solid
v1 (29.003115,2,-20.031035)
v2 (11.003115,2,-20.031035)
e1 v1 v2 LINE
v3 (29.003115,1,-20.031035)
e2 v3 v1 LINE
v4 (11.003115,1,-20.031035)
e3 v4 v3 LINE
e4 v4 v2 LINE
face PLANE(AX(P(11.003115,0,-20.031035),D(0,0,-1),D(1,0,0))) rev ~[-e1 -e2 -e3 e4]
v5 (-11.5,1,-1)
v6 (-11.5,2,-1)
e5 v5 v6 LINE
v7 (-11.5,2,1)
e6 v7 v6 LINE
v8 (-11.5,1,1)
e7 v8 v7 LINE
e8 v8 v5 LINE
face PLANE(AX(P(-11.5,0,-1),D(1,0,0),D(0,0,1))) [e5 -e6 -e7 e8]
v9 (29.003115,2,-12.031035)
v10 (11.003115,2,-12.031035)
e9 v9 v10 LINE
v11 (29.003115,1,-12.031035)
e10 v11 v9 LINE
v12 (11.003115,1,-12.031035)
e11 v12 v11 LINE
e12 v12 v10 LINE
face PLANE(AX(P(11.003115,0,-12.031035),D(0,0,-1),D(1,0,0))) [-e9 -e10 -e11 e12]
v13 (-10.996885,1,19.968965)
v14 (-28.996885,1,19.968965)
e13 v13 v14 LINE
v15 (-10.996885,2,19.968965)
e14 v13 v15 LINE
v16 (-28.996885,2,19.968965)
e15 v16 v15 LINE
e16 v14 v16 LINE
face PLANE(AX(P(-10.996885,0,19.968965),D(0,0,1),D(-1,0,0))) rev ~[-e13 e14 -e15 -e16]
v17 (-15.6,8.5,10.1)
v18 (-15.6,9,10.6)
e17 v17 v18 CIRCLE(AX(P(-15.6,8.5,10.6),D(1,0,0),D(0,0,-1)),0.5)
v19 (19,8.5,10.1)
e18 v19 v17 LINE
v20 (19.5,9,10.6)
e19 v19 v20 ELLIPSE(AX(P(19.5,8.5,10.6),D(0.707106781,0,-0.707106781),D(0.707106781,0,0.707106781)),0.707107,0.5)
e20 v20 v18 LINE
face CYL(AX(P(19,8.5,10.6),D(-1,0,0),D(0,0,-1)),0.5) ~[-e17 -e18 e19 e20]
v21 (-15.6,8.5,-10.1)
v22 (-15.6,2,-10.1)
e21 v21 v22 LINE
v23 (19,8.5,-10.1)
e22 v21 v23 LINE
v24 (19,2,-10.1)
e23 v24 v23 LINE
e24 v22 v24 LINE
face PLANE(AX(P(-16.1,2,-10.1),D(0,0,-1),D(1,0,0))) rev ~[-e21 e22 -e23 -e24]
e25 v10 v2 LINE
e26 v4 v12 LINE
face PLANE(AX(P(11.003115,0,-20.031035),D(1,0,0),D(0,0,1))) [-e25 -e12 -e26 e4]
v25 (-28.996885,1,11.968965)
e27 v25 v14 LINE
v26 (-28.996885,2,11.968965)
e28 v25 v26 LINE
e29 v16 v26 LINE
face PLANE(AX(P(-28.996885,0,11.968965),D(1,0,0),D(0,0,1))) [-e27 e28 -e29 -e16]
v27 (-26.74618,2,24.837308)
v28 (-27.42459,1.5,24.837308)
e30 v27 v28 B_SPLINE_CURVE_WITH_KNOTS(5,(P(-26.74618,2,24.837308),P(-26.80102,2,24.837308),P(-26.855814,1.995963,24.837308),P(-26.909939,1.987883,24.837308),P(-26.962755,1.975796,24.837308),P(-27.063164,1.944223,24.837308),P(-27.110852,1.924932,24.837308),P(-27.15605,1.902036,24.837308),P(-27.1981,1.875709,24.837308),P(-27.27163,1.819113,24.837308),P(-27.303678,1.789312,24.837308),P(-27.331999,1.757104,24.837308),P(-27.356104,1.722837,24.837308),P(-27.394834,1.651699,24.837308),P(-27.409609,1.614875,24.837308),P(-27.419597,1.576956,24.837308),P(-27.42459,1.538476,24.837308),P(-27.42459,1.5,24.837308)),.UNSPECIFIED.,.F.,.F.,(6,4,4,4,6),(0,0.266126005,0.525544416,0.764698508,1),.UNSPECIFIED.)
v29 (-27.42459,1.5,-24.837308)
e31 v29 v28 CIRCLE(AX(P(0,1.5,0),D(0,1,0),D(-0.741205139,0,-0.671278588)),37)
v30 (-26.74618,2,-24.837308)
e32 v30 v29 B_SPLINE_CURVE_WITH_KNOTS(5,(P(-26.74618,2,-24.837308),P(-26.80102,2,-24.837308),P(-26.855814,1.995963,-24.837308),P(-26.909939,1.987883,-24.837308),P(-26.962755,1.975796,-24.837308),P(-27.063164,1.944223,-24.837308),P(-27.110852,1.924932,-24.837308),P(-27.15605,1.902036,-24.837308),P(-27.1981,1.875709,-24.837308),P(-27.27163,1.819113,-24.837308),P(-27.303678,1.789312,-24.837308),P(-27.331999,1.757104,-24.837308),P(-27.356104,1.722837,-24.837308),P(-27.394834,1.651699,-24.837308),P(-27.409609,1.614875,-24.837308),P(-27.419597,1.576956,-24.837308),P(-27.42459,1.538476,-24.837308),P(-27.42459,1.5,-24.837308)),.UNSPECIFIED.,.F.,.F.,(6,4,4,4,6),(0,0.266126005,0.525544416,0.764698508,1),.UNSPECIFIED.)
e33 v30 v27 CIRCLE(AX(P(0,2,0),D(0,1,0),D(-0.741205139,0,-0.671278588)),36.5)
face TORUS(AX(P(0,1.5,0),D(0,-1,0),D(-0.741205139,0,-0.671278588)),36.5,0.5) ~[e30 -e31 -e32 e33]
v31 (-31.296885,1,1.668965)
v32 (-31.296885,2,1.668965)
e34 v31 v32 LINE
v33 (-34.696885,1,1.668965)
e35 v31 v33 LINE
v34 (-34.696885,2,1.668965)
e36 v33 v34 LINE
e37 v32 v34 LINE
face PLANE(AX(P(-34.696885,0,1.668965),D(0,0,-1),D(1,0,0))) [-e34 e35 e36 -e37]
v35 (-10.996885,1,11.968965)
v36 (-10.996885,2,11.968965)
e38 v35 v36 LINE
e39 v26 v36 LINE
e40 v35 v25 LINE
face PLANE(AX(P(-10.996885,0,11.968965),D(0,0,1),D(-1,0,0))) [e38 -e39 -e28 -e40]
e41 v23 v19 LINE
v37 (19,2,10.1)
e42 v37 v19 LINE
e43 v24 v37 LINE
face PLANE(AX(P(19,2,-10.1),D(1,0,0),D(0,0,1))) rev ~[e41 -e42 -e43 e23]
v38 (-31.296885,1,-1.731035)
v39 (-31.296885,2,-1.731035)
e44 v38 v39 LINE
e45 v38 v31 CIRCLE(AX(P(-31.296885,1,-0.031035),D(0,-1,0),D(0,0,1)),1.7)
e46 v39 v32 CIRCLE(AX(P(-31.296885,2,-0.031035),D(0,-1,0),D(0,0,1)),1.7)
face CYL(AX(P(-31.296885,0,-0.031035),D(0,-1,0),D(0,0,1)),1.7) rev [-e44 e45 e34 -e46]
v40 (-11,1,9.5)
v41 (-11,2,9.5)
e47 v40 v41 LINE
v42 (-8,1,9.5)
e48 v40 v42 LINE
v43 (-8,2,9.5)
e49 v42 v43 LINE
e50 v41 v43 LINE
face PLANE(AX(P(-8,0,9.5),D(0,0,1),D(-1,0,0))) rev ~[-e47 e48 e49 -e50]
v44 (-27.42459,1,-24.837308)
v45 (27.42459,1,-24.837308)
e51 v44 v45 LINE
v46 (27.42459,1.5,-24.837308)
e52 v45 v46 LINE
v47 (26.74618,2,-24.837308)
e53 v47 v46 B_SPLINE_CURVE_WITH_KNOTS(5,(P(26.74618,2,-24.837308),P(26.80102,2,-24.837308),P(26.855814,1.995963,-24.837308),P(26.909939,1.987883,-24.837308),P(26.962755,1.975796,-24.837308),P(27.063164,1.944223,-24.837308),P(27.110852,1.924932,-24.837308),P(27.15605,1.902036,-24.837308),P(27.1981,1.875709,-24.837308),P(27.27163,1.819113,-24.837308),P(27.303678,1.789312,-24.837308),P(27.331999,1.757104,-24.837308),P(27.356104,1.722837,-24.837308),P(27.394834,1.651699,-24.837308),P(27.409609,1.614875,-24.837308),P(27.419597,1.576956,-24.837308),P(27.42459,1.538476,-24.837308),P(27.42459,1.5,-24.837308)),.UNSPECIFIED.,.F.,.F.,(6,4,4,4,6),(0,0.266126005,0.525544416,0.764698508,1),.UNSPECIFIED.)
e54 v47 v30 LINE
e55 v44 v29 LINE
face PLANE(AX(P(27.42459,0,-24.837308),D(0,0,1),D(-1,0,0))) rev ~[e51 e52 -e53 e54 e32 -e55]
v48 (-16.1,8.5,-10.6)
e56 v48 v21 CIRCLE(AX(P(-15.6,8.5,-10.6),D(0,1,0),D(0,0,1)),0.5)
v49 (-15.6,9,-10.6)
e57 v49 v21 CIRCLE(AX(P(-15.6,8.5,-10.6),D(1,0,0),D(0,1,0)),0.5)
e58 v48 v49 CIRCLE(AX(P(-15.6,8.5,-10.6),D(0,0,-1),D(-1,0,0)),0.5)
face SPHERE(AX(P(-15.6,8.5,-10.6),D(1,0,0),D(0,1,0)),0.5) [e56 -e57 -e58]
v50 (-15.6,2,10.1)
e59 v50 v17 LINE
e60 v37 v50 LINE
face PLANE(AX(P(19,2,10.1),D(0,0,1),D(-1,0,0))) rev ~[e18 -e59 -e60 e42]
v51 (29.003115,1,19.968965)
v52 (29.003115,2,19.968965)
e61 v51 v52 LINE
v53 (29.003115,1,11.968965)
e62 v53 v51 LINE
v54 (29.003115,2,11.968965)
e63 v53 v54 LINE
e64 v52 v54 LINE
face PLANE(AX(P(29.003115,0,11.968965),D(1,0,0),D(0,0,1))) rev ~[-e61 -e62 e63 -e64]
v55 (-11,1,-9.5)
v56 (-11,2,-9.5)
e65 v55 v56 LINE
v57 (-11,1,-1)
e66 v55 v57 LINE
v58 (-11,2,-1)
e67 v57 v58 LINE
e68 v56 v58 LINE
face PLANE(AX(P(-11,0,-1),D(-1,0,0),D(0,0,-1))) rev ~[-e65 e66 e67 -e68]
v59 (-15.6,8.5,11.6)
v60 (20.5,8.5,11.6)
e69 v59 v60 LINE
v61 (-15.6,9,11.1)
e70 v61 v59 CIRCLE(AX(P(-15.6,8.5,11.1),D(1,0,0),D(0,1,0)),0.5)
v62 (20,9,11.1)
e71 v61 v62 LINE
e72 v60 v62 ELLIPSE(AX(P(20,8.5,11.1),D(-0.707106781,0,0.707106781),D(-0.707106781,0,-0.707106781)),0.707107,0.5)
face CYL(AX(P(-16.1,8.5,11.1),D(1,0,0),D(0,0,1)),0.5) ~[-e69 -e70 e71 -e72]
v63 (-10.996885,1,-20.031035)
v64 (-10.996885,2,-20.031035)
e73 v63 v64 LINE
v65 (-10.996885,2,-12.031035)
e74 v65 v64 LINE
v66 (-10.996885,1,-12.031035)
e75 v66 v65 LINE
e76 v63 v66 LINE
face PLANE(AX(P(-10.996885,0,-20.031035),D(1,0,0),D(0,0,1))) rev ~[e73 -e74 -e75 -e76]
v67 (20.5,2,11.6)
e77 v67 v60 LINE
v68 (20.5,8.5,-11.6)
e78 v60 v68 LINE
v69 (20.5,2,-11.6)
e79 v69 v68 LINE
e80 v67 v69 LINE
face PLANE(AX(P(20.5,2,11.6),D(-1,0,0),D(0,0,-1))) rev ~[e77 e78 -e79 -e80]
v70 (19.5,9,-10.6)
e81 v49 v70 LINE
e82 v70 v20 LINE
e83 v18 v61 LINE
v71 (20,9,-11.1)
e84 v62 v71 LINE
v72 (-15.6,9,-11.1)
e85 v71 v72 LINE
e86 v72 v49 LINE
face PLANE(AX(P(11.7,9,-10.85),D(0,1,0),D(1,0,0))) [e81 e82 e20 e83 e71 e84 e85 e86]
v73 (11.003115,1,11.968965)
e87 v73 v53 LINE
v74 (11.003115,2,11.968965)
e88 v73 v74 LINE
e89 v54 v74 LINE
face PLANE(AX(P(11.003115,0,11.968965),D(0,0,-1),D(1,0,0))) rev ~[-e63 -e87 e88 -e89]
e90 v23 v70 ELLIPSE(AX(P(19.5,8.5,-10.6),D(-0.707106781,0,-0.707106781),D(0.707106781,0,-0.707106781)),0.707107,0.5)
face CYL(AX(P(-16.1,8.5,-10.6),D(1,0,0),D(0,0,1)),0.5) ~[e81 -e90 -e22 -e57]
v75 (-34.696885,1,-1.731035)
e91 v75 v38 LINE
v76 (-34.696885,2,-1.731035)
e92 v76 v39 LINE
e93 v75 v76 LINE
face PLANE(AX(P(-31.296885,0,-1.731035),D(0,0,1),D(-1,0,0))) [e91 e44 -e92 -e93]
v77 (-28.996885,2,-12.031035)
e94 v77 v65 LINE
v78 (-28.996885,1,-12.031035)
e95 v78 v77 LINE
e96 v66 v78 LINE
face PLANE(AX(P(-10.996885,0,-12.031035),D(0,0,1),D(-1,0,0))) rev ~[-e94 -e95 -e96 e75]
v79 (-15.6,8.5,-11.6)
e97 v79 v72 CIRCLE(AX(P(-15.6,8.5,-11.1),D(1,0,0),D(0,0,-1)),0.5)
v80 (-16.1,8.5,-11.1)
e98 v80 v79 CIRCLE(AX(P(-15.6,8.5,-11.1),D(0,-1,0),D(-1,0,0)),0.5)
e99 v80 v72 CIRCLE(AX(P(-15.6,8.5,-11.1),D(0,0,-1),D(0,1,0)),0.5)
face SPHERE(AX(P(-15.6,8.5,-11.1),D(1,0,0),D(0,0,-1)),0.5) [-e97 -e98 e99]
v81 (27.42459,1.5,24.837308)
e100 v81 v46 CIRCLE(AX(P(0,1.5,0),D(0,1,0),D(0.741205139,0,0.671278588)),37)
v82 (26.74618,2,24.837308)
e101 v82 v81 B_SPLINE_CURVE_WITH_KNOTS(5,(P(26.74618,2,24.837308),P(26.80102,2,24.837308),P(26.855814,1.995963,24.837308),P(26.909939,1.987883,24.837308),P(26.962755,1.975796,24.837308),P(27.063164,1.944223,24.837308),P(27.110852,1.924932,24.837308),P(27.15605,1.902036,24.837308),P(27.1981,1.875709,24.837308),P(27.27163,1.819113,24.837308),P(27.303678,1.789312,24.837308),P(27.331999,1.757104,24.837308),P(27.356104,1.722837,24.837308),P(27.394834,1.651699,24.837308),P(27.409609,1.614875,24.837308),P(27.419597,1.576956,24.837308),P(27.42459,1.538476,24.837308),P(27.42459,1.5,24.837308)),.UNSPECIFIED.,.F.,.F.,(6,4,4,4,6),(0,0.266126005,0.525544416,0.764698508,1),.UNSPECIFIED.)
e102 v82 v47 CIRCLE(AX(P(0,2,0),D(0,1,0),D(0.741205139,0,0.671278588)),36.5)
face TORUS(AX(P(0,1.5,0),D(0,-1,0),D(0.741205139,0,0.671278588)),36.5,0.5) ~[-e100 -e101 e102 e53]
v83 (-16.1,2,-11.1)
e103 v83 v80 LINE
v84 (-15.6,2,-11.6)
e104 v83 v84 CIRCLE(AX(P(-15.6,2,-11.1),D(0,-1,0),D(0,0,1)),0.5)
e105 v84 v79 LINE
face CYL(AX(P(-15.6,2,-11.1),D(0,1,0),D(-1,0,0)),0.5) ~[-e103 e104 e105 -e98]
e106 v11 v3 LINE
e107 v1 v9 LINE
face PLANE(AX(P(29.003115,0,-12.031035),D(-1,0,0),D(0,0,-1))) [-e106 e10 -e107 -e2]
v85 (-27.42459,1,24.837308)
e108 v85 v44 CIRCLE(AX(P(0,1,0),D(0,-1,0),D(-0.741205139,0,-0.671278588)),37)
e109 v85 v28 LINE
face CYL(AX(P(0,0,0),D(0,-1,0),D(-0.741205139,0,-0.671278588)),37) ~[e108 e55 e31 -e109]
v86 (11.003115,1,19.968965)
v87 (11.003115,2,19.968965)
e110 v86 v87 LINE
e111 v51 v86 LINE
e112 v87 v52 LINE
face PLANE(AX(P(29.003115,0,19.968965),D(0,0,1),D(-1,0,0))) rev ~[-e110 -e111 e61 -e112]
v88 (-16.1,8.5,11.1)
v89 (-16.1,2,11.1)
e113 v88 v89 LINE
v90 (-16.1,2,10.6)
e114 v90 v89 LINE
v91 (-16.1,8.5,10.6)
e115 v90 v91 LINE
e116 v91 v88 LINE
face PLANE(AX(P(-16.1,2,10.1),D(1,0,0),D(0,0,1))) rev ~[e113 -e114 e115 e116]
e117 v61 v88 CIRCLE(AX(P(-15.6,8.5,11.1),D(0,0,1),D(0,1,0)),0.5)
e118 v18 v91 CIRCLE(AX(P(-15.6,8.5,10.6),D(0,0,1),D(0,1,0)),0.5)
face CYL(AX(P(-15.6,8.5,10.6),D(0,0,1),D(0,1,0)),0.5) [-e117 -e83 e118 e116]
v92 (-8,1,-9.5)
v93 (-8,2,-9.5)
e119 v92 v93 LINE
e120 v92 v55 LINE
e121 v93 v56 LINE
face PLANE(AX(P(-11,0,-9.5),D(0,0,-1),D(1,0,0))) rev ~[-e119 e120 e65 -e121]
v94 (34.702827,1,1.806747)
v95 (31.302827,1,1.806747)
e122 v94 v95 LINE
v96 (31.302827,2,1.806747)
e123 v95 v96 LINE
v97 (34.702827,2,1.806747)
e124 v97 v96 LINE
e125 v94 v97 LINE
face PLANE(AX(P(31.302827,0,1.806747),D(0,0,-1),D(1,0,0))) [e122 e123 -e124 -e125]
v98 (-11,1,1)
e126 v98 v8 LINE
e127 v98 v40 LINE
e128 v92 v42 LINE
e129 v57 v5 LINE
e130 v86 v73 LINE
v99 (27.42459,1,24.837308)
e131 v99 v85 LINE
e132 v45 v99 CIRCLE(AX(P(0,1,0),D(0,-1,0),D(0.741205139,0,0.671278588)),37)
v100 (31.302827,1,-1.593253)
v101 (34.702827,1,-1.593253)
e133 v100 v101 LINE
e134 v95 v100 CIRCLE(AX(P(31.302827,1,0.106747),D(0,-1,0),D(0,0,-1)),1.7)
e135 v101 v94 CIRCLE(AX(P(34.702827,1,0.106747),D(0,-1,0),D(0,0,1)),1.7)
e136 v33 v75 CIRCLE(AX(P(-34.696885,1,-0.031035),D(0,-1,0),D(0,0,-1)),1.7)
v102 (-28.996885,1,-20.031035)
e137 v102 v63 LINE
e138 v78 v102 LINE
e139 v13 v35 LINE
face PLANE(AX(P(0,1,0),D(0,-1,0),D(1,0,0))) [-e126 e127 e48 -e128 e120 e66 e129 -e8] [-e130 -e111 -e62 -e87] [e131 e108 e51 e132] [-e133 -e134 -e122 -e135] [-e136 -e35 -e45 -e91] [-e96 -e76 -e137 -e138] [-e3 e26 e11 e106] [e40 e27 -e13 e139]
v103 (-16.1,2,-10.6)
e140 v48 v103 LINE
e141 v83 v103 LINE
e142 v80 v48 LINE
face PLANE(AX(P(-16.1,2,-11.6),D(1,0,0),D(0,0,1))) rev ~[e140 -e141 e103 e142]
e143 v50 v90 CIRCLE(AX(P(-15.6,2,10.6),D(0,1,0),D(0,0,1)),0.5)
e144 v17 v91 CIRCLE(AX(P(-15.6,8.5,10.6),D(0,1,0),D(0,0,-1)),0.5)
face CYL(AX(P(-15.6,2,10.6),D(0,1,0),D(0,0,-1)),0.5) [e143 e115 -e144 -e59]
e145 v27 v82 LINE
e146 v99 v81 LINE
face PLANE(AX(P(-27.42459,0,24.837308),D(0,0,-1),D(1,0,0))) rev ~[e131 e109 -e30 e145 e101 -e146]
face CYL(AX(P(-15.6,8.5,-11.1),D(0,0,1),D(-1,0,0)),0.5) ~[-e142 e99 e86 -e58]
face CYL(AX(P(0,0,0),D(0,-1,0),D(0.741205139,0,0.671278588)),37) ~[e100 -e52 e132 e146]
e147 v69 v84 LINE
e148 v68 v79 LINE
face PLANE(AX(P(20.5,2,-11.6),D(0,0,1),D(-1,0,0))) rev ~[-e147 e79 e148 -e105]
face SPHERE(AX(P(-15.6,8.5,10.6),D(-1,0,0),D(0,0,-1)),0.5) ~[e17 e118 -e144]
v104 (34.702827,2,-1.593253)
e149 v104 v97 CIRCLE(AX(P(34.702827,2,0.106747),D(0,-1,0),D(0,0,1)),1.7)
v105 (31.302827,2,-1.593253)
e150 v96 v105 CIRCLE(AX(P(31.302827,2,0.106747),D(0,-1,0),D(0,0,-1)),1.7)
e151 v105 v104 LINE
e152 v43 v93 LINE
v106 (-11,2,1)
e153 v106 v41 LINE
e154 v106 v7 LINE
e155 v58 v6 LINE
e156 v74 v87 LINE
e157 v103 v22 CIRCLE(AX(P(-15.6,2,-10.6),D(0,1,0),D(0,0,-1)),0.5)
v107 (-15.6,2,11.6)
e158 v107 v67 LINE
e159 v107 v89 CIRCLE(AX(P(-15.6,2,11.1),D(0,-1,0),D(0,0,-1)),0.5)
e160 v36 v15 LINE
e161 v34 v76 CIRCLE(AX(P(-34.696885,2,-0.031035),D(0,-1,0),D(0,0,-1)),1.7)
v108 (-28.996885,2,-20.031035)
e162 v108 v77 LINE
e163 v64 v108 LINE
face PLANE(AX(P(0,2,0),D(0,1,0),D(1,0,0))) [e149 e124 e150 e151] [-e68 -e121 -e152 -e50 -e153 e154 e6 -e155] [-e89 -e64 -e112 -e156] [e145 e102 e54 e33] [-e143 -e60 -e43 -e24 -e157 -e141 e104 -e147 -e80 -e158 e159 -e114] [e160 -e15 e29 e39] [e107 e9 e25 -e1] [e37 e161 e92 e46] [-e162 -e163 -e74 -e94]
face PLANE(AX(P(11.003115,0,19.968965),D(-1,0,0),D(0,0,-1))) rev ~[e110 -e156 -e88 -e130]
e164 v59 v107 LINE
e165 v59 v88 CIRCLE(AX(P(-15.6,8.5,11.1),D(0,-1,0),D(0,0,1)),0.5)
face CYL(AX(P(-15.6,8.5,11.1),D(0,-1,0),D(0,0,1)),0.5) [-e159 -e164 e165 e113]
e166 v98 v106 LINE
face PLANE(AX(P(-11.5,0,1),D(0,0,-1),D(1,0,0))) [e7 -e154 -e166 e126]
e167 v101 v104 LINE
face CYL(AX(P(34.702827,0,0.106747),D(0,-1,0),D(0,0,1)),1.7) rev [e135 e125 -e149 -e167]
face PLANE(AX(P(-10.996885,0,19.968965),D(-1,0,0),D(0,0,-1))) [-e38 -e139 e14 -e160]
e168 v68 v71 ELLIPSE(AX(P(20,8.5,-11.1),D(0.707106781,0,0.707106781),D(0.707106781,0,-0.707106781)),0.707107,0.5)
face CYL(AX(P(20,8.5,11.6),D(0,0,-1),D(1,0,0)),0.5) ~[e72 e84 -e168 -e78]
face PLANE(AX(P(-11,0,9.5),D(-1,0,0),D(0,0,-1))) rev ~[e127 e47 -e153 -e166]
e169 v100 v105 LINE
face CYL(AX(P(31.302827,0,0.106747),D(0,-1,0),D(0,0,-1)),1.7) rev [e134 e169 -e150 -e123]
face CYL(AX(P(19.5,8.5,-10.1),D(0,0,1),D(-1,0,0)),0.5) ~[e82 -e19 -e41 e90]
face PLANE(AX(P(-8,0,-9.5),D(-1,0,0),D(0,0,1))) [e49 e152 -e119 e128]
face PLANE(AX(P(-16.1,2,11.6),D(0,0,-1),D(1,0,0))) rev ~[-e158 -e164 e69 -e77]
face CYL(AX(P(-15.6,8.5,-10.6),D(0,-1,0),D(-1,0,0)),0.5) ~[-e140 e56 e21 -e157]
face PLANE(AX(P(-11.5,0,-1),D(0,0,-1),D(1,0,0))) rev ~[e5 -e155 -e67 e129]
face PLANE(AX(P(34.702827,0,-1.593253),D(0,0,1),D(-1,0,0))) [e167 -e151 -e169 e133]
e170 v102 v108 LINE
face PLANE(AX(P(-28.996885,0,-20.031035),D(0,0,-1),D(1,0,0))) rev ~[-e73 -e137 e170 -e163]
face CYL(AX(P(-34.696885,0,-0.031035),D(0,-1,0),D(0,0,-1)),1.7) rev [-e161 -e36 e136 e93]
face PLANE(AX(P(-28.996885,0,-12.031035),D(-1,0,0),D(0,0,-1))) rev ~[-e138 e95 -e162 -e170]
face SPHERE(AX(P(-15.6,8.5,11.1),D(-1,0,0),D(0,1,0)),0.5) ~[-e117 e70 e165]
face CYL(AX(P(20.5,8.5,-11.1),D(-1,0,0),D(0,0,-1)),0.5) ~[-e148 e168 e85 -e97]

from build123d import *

# Parameters (mm, degrees)
BOSS_EXTRUDE1_DEPTH     = 2
SKETCH2_W               = 3.5
SKETCH2_H               = 2
CUT_EXTRUDE1_DEPTH      = 22
BOSS_EXTRUDE2_DEPTH     = 7
BOSS_EXTRUDE3_DEPTH     = 6
SKETCH5_R               = 2.25
CUT_EXTRUDE3_DEPTH      = 37
CUT_EXTRUDE3_DEPTH_BACK = 37
FILLET1_R               = 3
FILLET2_R               = 0.5
CUT_EXTRUDE4_DEPTH      = 37
FILLET3_R               = 0.5
FILLET4_R               = 0.5
CUT_EXTRUDE5_DEPTH      = 10
FILLET8_R               = 1
SKETCH8_W               = 0.1
SKETCH8_H               = 1
CUT_EXTRUDE6_DEPTH      = 0.1
SKETCH10_R              = 57.556720945
CUT_EXTRUDE7_DEPTH      = 11
CUT_EXTRUDE7_DEPTH_BACK = 1


with BuildPart() as part:
    # Sketch1 → Boss-Extrude1 (new body)
    with BuildSketch(Plane(origin=(0, 0, 0), x_dir=(1, 0, 0), z_dir=(0, 1, 0))):
        with BuildLine():
            Line((-27.424590139, -24.837307739), (27.424590139, -24.837307739))
            ThreePointArc((27.424590139, -24.837307739), (37, 0), (27.424590139, 24.837307739))
            Line((27.424590139, 24.837307739), (-27.424590139, 24.837307739))
            ThreePointArc((-27.424590139, 24.837307739), (-37, 0), (-27.424590139, -24.837307739))
        make_face()
    extrude(amount=BOSS_EXTRUDE1_DEPTH)

    # Sketch2 → Cut-Extrude1 (cut)
    with BuildSketch(Plane.XZ):
        Polygon((-8, 0), (-8, 9.5), (-11, 9.5), (-11, -9.5), (-8, -9.5), align=None)
        with Locations((-9.75, 0)):
            Rectangle(SKETCH2_W, SKETCH2_H)
    extrude(amount=-CUT_EXTRUDE1_DEPTH, mode=Mode.SUBTRACT)

    # Sketch3 → Boss-Extrude2 (add)
    with BuildSketch(Plane(origin=(0, 2, 0), x_dir=(1, 0, 0), z_dir=(0, 1, 0))):
        Polygon((2.9, 11.6), (2.9, 10.1), (19, 10.1), (20.5, 10.1), (20.5, 11.6), align=None)
        Polygon((20.5, 10.1), (19, 10.1), (19, -10.1), (19, -11.6), (20.5, -11.6), align=None)
        Polygon((19, -11.6), (19, -10.1), (-14.6, -10.1), (-16.1, -10.1), (-16.1, -11.6), align=None)
        Polygon((-14.6, 10.1), (2.9, 10.1), (2.9, 11.6), (-16.1, 11.6), (-16.1, 10.1), align=None)
    extrude(amount=BOSS_EXTRUDE2_DEPTH)

    # Sketch4 → Boss-Extrude3 (add)
    with BuildSketch(Plane.XZ):
        Polygon((-8, 0), (-8.02303658, 9.318964787), (-3, 9.318964787), (-3, -9.5), (-8, -9.5), align=None)
    extrude(amount=BOSS_EXTRUDE3_DEPTH)

    # Sketch5 → Cut-Extrude3 (cut, two sides)
    with BuildSketch(Plane.ZY.offset(8)) as cut_extrude3_sk:
        with Locations((-5.031035213, -2.35)):
            Circle(SKETCH5_R)
        with Locations((5.031035213, -2.35)):
            Circle(SKETCH5_R)
    extrude(amount=CUT_EXTRUDE3_DEPTH, mode=Mode.SUBTRACT)
    extrude(cut_extrude3_sk.sketch, amount=-CUT_EXTRUDE3_DEPTH_BACK, mode=Mode.SUBTRACT)

    # Fillet1
    fillet1_edges = [part.edges().sort_by_distance(p)[0] for p in [
        (-5.5, -6, -9.5),
        (-5.51151829, -6, 9.318964787),
    ]]
    fillet(fillet1_edges, radius=FILLET1_R)

    # Fillet2
    fillet2_edges = [part.edges().sort_by_distance(p)[0] for p in [
        (-37, 2, 0),
        (37, 2, 0),
    ]]
    fillet(fillet2_edges, radius=FILLET2_R)

    # Sketch6 → Cut-Extrude4 (cut)
    with BuildSketch(Plane.XZ):
        with BuildLine():
            Line((-34.696885188, 1.668964787), (-31.296885188, 1.668964787))
            ThreePointArc((-31.296885188, 1.668964787), (-29.596885188, -0.031035213), (-31.296885188, -1.731035213))
            Line((-31.296885188, -1.731035213), (-34.696885188, -1.731035213))
            ThreePointArc((-34.696885188, -1.731035213), (-36.396885188, -0.031035213), (-34.696885188, 1.668964787))
        make_face()
        with BuildLine():
            Line((31.302827177, 1.806746588), (34.702827177, 1.806746588))
            ThreePointArc((34.702827177, 1.806746588), (36.402827177, 0.106746588), (34.702827177, -1.593253412))
            Line((34.702827177, -1.593253412), (31.302827177, -1.593253412))
            ThreePointArc((31.302827177, -1.593253412), (29.602827177, 0.106746588), (31.302827177, 1.806746588))
        make_face()
    extrude(amount=-CUT_EXTRUDE4_DEPTH, mode=Mode.SUBTRACT)

    # Fillet3
    fillet3_edges = [part.edges().sort_by_distance(p)[0] for p in [
        (20.5, 9, 0),
        (2.2, 9, -11.6),
        (2.2, 9, 11.6),
        (1.45, 9, -10.1),
        (19, 9, 0),
        (1.45, 9, 10.1),
    ]]
    fillet(fillet3_edges, radius=FILLET3_R)

    # Fillet4
    fillet4_edges = [part.edges().sort_by_distance(p)[0] for p in [
        (-16.1, 9, -10.85),
        (-16.1, 9, 10.85),
        (-16.1, 5.25, -10.1),
        (-16.1, 5.25, -11.6),
        (-16.1, 8.853553391, -11.453553391),
        (-16.1, 8.853553391, -10.246446609),
        (-16.1, 5.25, 11.6),
        (-16.1, 5.25, 10.1),
        (-16.1, 8.853553391, 10.246446609),
        (-16.1, 8.853553391, 11.453553391),
    ]]
    fillet(fillet4_edges, radius=FILLET4_R)

    # Sketch7 → Cut-Extrude5 (cut)
    with BuildSketch(Plane.XZ):
        Polygon((-19.996885188, 19.968964787), (-10.996885188, 19.968964787), (-10.996885188, 11.968964787), (-28.996885188, 11.968964787), (-28.996885188, 19.968964787), align=None)
        Polygon((11.003114812, 11.968964787), (20.003114812, 11.968964787), (20.003114812, 14.968964787), (20.003114812, 19.968964787), (11.003114812, 19.968964787), align=None)
        Polygon((20.003114812, 14.968964787), (20.003114812, 11.968964787), (29.003114812, 11.968964787), (29.003114812, 19.968964787), (20.003114812, 19.968964787), align=None)
        Polygon((-28.996885188, -12.031035213), (-28.996885188, -20.031035213), (-19.996885188, -20.031035213), (-10.996885188, -20.031035213), (-10.996885188, -12.031035213), align=None)
        Polygon((20.003114812, -20.031035213), (11.003114812, -20.031035213), (11.003114812, -12.031035213), (29.003114812, -12.031035213), (29.003114812, -20.031035213), align=None)
    extrude(amount=-CUT_EXTRUDE5_DEPTH, mode=Mode.SUBTRACT)

    # Fillet8
    fillet8_edges = [part.edges().sort_by_distance(p)[0] for p in [
        (11.003114812, 0, 15.968964787),
        (20.003114812, 0, 11.968964787),
        (29.003114812, 0, 15.968964787),
        (20.003114812, 0, 19.968964787),
        (-28.996885188, 0, -16.031035213),
        (-19.996885188, 0, -20.031035213),
        (-10.996885188, 0, -16.031035213),
        (-19.996885188, 0, -12.031035213),
        (20.003114812, 0, -20.031035213),
        (11.003114812, 0, -16.031035213),
        (20.003114812, 0, -12.031035213),
        (29.003114812, 0, -16.031035213),
        (-19.996885188, 0, 19.968964787),
        (-10.996885188, 0, 15.968964787),
        (-19.996885188, 0, 11.968964787),
        (-28.996885188, 0, 15.968964787),
    ]]
    fillet(fillet8_edges, radius=FILLET8_R)

    # Sketch8 → Cut-Extrude6 (cut)
    with BuildSketch(Plane.XY.offset(24.837307739)):
        with Locations((-0.05, 0.5)):
            Rectangle(SKETCH8_W, SKETCH8_H)
        with Locations((0.05, 0.5)):
            Rectangle(SKETCH8_W, SKETCH8_H)
    extrude(amount=-CUT_EXTRUDE6_DEPTH, mode=Mode.SUBTRACT)

    # Sketch10 → Cut-Extrude7 (cut, two sides)
    with BuildSketch(Plane.XZ) as cut_extrude7_sk:
        Circle(SKETCH10_R)
    extrude(amount=CUT_EXTRUDE7_DEPTH, mode=Mode.SUBTRACT)
    extrude(cut_extrude7_sk.sketch, amount=-CUT_EXTRUDE7_DEPTH_BACK, mode=Mode.SUBTRACT)


solid = part.part
